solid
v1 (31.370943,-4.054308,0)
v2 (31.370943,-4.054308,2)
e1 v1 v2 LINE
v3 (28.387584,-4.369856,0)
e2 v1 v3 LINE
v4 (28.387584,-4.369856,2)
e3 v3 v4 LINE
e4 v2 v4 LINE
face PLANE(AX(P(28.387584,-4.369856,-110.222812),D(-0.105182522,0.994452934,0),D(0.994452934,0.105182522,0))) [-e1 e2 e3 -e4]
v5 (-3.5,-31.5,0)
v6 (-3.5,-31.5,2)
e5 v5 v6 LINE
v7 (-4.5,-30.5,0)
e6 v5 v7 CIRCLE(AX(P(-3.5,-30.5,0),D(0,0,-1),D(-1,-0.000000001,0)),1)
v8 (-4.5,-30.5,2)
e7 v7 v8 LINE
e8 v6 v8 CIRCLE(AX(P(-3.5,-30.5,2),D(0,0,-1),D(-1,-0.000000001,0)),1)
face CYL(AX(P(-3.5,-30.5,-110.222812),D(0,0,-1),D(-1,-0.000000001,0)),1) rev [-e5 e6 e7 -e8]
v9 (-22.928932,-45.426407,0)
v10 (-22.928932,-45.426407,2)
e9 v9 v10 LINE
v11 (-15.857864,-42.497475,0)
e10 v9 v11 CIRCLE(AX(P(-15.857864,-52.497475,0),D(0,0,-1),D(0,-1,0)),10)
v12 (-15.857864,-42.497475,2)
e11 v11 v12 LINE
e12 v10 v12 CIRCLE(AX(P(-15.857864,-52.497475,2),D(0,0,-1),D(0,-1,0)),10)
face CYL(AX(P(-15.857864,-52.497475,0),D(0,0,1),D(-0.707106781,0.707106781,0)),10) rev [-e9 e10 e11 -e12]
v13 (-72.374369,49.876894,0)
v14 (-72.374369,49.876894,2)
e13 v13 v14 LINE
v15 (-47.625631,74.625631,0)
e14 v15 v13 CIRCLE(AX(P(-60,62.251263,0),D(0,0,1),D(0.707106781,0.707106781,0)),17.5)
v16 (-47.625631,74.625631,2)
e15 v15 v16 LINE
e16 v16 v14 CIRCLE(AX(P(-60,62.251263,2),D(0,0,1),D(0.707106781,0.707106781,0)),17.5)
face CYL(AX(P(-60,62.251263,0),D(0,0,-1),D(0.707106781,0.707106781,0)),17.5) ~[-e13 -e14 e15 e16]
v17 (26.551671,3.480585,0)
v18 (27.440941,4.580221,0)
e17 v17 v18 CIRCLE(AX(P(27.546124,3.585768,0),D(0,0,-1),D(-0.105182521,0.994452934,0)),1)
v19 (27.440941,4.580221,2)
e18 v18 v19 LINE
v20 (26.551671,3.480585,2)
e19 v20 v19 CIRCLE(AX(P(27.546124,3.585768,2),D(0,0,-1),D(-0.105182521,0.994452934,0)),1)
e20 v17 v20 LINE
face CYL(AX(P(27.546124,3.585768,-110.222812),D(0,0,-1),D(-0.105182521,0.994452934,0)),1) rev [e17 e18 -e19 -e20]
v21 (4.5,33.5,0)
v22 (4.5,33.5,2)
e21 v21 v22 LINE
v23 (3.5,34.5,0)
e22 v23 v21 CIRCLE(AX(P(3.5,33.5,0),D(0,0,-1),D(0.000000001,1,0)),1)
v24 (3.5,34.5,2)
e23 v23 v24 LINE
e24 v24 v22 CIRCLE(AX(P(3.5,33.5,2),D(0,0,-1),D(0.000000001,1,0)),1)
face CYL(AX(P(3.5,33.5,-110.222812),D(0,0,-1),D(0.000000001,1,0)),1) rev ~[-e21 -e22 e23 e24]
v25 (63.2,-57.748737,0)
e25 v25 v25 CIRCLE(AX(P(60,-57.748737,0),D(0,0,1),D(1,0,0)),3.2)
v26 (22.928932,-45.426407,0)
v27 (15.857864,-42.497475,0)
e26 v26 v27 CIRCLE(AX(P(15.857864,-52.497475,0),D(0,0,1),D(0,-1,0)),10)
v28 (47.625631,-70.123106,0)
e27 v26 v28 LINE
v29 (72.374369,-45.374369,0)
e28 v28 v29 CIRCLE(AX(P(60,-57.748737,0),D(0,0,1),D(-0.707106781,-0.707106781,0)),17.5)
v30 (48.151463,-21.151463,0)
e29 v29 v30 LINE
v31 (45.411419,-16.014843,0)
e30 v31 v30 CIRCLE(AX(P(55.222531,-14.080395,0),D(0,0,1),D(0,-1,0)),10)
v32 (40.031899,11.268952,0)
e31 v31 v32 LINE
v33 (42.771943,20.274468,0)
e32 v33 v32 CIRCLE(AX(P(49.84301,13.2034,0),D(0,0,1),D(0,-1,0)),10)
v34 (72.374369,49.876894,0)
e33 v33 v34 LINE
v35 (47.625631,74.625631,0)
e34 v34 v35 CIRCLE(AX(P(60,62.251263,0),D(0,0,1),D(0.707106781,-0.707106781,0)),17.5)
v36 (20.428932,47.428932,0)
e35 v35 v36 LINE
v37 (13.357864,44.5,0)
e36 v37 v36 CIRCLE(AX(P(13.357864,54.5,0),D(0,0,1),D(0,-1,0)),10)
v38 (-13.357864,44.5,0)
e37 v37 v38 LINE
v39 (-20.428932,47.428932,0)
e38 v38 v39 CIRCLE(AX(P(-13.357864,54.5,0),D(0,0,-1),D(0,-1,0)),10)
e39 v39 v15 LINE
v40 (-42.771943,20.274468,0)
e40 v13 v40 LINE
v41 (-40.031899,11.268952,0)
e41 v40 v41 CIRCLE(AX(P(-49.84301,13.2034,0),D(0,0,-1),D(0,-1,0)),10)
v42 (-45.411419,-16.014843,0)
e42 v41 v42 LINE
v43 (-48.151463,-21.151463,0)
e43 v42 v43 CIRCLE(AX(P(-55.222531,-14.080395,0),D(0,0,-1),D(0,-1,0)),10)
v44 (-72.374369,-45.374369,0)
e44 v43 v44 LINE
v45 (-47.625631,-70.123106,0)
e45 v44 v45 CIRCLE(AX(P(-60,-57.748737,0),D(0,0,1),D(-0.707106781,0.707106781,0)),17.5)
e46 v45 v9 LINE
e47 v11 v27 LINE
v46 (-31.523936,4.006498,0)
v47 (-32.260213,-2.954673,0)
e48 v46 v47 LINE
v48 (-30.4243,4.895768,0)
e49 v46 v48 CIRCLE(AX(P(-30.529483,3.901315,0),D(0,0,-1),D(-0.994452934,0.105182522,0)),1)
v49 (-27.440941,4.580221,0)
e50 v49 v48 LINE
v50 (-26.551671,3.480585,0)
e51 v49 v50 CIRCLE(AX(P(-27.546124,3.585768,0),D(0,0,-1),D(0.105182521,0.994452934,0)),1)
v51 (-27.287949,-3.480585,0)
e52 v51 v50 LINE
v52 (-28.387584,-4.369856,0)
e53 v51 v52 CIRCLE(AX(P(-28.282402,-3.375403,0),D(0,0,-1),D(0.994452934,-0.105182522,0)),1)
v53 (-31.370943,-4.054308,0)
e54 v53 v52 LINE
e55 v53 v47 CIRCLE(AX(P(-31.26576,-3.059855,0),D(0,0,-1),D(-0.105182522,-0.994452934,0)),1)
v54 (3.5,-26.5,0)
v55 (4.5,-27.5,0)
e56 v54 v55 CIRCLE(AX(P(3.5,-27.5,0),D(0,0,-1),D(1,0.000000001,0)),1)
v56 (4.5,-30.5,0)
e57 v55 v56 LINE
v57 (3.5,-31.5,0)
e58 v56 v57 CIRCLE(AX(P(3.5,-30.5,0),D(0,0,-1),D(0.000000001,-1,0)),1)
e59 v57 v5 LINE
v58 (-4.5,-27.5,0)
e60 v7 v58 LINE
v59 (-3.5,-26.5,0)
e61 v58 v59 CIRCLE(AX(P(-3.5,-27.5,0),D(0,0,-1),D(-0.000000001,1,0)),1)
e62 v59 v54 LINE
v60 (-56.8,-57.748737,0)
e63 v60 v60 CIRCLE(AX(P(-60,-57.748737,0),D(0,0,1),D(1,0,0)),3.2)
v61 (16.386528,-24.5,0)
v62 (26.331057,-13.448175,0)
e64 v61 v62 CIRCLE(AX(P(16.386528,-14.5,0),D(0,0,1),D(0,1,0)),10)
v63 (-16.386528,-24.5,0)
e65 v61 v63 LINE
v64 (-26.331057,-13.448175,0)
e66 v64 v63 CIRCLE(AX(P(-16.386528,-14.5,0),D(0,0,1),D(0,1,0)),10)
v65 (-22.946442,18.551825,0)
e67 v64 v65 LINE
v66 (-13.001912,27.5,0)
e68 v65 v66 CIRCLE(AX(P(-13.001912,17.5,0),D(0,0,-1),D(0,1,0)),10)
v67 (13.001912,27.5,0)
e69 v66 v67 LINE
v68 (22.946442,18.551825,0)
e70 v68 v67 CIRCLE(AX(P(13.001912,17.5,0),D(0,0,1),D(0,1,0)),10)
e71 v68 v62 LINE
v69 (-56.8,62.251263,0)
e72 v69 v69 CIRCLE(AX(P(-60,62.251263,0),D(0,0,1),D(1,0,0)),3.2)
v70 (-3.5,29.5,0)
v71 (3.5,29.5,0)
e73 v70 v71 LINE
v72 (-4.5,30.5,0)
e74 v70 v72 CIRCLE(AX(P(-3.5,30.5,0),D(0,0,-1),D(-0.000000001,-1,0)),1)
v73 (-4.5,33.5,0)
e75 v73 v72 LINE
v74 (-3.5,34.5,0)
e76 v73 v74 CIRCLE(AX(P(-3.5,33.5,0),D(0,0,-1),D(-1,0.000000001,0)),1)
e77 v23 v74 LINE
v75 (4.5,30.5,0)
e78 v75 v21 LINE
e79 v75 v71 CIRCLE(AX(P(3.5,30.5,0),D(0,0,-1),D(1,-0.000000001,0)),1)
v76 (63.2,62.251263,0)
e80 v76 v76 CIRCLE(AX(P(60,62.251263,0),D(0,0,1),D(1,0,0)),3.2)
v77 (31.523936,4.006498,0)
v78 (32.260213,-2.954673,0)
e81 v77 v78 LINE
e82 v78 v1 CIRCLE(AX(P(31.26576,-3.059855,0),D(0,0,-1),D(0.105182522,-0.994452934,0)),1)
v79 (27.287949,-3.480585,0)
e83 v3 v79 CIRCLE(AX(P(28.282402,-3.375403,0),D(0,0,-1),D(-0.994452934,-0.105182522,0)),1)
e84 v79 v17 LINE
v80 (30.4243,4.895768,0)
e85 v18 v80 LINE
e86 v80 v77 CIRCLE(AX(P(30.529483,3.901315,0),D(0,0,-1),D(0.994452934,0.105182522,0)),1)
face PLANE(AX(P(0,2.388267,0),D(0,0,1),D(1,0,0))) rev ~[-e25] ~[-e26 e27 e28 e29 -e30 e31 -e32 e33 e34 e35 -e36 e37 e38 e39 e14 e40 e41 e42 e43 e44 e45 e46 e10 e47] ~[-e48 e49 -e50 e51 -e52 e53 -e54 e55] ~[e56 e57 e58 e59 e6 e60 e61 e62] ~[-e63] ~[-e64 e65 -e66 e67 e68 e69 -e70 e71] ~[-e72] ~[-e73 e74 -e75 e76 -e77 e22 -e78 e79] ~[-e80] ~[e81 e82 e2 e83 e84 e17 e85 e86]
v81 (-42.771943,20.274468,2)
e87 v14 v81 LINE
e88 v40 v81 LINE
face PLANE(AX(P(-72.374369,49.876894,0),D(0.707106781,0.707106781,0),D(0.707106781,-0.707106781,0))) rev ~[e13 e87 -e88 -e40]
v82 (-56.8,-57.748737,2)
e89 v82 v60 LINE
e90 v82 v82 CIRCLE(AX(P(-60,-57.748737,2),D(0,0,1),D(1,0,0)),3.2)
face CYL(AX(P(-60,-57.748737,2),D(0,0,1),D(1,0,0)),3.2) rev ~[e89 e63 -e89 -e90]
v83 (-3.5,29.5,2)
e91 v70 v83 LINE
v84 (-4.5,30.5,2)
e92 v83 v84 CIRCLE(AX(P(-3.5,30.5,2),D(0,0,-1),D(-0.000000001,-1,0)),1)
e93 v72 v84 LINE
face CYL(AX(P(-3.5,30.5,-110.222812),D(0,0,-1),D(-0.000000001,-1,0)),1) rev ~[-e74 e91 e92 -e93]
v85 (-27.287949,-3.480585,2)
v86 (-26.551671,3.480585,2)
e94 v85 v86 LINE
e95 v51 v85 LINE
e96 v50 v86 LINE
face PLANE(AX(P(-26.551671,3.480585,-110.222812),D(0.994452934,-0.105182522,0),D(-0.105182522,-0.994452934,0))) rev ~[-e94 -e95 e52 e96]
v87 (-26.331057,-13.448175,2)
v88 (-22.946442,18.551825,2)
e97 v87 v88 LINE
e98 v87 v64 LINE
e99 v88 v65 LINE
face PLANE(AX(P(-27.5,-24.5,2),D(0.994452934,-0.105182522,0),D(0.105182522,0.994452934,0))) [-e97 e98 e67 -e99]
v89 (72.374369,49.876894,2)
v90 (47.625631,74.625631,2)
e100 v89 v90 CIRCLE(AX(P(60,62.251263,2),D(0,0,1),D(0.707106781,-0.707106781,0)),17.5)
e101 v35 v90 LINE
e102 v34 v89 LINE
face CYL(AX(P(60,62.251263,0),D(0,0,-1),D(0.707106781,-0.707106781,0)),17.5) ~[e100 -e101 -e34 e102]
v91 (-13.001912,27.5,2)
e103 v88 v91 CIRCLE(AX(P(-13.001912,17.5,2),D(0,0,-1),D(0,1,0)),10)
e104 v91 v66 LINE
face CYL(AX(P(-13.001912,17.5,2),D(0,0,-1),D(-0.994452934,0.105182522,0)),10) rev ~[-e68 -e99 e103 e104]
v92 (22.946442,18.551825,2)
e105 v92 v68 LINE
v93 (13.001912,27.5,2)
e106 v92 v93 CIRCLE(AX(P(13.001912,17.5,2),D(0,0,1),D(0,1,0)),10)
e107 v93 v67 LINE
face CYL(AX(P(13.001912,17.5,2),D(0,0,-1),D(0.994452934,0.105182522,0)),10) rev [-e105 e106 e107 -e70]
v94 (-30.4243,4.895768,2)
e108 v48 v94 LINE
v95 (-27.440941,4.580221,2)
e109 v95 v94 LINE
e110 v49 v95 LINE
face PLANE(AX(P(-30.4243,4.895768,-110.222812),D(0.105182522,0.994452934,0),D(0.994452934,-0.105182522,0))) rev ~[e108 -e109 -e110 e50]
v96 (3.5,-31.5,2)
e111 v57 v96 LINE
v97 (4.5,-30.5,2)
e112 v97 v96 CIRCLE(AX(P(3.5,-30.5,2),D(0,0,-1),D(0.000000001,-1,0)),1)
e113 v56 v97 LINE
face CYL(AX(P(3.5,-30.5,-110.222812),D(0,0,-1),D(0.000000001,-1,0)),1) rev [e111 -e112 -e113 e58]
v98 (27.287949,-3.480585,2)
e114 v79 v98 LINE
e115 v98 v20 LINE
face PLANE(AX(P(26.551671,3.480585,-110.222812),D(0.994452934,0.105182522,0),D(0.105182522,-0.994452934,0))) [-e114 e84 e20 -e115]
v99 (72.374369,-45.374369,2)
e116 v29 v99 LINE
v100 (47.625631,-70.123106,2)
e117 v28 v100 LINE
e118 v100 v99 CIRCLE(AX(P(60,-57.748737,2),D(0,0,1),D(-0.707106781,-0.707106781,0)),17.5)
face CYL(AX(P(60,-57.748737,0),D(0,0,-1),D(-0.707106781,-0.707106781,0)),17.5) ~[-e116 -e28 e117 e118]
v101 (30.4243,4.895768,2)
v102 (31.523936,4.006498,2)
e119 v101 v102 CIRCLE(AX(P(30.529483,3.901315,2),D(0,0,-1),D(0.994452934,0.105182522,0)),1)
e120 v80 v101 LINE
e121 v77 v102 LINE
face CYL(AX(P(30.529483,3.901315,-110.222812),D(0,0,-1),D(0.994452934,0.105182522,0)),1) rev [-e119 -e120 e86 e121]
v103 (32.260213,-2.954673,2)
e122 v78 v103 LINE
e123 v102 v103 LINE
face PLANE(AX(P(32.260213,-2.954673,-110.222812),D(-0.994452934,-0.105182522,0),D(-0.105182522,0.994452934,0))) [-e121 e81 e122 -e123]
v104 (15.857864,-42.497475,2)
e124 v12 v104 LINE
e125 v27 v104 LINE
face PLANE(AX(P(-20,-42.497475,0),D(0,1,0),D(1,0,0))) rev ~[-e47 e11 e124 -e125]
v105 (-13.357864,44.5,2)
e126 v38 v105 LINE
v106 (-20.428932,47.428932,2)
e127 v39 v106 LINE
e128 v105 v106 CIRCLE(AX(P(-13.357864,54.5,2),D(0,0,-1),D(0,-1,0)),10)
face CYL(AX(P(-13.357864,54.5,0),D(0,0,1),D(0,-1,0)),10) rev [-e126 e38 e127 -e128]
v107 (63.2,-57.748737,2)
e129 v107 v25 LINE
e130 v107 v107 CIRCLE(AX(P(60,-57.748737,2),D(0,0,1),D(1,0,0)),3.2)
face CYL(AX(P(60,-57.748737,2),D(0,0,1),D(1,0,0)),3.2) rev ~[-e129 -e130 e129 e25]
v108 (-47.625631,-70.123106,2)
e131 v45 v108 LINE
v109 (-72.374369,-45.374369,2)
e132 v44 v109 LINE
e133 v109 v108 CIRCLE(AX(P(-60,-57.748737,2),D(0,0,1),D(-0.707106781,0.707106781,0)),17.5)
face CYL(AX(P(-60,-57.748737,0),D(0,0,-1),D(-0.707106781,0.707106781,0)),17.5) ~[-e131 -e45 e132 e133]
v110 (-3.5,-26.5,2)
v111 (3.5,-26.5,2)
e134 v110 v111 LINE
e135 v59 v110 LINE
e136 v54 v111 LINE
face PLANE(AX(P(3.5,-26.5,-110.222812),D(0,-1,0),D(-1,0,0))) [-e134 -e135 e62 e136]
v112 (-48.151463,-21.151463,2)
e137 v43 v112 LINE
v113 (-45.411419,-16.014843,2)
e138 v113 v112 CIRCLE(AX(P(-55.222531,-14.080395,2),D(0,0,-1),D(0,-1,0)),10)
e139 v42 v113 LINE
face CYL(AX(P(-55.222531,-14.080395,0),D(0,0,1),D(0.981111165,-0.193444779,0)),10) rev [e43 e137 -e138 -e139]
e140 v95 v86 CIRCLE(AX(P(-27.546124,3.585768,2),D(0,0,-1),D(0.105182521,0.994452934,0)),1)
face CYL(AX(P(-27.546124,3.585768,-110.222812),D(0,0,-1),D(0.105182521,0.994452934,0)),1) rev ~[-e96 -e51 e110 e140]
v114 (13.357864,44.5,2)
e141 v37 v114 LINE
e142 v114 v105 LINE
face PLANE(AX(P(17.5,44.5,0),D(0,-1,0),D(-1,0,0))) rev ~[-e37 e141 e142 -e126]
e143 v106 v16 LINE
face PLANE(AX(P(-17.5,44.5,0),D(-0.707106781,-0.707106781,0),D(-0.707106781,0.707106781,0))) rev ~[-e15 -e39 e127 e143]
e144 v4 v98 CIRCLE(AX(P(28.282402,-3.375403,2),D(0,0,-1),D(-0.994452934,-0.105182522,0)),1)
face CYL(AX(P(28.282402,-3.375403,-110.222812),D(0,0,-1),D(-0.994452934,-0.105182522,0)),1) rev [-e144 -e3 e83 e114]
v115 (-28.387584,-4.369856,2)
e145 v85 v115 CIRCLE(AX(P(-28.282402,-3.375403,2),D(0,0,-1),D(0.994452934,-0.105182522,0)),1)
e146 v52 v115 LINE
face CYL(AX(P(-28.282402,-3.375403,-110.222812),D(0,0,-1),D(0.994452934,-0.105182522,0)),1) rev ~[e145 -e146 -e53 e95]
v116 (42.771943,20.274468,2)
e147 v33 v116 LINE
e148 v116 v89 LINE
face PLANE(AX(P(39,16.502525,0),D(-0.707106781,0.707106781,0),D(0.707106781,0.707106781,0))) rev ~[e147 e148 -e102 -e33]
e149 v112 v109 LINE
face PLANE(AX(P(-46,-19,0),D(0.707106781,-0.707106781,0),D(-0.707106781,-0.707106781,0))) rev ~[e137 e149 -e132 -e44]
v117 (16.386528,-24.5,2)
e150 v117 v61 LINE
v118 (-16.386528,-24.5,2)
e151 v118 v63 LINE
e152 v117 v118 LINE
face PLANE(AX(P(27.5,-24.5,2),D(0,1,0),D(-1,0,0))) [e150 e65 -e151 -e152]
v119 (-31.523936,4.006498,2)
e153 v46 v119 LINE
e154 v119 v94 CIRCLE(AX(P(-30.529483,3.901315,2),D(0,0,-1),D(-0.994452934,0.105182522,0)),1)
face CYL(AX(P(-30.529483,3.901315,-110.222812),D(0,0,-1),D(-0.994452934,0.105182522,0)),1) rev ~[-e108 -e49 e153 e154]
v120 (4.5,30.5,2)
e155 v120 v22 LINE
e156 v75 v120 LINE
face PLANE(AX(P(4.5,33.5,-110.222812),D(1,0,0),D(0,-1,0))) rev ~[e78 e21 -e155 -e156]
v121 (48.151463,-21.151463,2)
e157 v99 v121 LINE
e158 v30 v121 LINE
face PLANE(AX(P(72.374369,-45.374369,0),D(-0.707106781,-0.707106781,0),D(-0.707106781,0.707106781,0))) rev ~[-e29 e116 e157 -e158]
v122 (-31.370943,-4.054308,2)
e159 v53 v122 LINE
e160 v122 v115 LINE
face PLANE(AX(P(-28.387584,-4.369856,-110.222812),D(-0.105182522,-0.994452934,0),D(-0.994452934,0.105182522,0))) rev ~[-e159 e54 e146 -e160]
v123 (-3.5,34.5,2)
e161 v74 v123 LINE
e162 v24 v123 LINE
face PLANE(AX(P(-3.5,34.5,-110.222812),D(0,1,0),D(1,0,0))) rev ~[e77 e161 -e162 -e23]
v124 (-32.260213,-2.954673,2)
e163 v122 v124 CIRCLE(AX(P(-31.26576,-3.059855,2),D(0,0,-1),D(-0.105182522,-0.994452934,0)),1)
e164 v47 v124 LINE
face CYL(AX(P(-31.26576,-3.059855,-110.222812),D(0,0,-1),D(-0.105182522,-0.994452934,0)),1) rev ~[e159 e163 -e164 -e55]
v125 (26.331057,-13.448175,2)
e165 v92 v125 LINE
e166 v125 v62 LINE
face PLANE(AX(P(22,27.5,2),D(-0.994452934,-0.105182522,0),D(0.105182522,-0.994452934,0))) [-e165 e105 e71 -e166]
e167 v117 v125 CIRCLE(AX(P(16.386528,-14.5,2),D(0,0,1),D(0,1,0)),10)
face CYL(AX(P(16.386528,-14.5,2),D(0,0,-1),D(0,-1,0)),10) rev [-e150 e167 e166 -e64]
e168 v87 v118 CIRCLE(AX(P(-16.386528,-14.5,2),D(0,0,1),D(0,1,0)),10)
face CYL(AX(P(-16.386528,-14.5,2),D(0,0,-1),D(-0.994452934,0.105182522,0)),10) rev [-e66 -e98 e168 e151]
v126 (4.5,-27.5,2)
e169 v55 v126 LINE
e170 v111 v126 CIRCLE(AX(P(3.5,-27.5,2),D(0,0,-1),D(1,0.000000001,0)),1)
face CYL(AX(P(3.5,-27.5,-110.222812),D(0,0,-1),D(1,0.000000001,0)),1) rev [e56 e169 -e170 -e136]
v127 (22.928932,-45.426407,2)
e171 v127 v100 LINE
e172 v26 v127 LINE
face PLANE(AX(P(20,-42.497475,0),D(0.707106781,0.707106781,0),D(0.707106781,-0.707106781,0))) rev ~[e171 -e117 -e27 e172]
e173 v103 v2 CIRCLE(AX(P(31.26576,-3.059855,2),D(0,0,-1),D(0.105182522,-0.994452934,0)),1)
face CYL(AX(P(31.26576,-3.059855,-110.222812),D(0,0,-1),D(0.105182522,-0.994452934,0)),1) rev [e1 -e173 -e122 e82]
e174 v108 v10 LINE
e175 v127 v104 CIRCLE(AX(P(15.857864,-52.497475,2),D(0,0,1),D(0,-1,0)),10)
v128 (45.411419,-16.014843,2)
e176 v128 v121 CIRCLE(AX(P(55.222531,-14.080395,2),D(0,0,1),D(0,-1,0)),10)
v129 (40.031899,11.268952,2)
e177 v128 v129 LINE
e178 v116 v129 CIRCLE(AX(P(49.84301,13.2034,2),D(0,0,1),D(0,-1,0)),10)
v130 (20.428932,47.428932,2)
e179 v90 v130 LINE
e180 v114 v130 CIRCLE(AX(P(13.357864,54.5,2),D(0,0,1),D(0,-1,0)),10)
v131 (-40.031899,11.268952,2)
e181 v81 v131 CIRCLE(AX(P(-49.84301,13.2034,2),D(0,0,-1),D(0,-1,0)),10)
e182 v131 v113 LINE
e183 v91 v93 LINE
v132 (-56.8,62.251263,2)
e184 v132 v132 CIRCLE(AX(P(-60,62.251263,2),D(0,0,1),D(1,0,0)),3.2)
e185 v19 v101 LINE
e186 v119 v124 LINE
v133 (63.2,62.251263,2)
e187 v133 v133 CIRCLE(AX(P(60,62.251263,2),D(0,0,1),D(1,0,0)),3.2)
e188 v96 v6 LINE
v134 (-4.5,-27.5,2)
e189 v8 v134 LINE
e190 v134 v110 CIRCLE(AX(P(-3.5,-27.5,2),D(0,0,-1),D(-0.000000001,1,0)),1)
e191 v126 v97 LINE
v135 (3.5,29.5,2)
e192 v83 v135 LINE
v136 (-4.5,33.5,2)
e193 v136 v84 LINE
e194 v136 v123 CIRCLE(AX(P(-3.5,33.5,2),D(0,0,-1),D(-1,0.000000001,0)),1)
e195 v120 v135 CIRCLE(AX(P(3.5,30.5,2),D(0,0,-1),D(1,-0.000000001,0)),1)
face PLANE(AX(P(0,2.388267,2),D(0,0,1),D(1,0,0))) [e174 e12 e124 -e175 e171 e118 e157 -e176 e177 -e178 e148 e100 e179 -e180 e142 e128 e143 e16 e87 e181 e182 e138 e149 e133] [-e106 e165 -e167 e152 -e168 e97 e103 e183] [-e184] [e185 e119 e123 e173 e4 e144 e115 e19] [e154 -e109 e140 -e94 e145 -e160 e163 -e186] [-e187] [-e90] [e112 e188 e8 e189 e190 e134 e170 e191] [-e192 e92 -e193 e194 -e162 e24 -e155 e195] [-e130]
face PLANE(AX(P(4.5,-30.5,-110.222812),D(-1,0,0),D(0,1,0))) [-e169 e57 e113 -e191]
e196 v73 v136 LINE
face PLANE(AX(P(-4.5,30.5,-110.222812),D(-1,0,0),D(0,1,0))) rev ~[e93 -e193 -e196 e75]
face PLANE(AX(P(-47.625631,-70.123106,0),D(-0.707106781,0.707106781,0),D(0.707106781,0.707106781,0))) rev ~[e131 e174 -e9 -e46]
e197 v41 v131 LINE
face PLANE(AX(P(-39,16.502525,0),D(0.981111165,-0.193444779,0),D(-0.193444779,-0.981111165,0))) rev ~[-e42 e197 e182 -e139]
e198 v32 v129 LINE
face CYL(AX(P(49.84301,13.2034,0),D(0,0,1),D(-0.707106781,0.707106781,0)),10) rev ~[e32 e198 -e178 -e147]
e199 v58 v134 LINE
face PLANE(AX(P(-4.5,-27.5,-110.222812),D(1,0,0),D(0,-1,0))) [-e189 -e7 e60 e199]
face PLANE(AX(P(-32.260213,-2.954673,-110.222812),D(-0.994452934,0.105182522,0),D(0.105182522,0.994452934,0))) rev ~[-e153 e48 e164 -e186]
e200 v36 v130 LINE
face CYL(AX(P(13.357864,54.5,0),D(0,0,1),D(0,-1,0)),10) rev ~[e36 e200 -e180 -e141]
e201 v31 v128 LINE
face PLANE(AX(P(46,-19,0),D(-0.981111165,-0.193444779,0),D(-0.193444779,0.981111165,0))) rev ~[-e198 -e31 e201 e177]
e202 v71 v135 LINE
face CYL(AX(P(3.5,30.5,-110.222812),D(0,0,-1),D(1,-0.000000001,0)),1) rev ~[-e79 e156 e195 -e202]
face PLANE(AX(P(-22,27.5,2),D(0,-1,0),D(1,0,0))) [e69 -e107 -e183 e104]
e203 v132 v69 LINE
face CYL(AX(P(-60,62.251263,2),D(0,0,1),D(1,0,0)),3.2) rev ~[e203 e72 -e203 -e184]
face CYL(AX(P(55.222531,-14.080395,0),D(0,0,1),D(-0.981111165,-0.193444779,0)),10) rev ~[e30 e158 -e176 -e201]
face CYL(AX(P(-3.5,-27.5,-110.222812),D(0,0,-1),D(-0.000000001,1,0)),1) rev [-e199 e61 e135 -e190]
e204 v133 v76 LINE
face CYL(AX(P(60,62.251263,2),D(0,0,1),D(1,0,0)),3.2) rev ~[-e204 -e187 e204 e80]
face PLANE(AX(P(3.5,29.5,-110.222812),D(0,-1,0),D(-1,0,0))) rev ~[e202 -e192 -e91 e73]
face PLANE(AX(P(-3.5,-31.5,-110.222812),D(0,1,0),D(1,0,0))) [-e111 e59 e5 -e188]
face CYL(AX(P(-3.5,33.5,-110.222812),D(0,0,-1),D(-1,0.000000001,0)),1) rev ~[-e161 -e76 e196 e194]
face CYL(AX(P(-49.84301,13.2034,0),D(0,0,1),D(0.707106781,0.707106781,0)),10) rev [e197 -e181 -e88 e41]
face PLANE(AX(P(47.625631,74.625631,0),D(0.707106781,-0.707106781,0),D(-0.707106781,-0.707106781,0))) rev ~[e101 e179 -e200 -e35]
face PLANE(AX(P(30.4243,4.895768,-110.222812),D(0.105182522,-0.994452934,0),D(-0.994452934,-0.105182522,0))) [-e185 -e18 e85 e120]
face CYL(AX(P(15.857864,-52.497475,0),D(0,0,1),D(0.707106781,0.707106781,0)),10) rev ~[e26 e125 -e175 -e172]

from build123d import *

# Parameters (mm, degrees)
AUFSATZ_LINEAR_AUSTRAGEN1_DEPTH      = 2
SKIZZE2_R                            = 3.2
SCHNITT_LINEAR_AUSTRAGEN1_DEPTH      = 2
SCHNITT_LINEAR_AUSTRAGEN3_DEPTH      = 2
VERRUNDUNG1_R                        = 10
VERRUNDUNG2_R                        = 10
SCHNITT_LINEAR_AUSTRAGEN4_DEPTH      = 112.222811939
SCHNITT_LINEAR_AUSTRAGEN4_DEPTH_BACK = 112.222811939


with BuildPart() as part:
    # Skizze1 → Aufsatz-Linear austragen1 (new body)
    with BuildSketch(Plane.XY):
        with BuildLine():
            Line((17.5, 44.5), (-17.5, 44.5))
            Line((-17.5, 44.5), (-47.625631329, 74.625631329))
            ThreePointArc((-47.625631329, 74.625631329), (-72.374368671, 74.625631329), (-72.374368671, 49.876893988))
            Line((-72.374368671, 49.876893988), (-39, 16.502525317))
            Line((-39, 16.502525317), (-46, -19))
            Line((-46, -19), (-72.374368671, -45.374368671))
            ThreePointArc((-72.374368671, -45.374368671), (-72.374368671, -70.123106012), (-47.625631329, -70.123106012))
            Line((-47.625631329, -70.123106012), (-20, -42.497474683))
            Line((-20, -42.497474683), (20, -42.497474683))
            Line((20, -42.497474683), (47.625631329, -70.123106012))
            ThreePointArc((47.625631329, -70.123106012), (72.374368671, -70.123106012), (72.374368671, -45.374368671))
            Line((72.374368671, -45.374368671), (46, -19))
            Line((46, -19), (39, 16.502525317))
            Line((39, 16.502525317), (72.374368671, 49.876893988))
            ThreePointArc((72.374368671, 49.876893988), (72.374368671, 74.625631329), (47.625631329, 74.625631329))
            Line((47.625631329, 74.625631329), (17.5, 44.5))
        make_face()
    extrude(amount=AUFSATZ_LINEAR_AUSTRAGEN1_DEPTH)

    # Skizze2 → Schnitt-Linear austragen1 (cut)
    with BuildSketch(Plane.XY.offset(2)):
        with Locations((-60, -57.748737342)):
            Circle(SKIZZE2_R)
        with Locations((-60, 62.251262658)):
            Circle(SKIZZE2_R)
        with Locations((60, -57.748737342)):
            Circle(SKIZZE2_R)
        with Locations((60, 62.251262658)):
            Circle(SKIZZE2_R)
    extrude(amount=-SCHNITT_LINEAR_AUSTRAGEN1_DEPTH, mode=Mode.SUBTRACT)

    # Skizze4 → Schnitt-Linear austragen3 (cut)
    with BuildSketch(Plane.XY.offset(2)):
        Polygon((-22, 27.5), (22, 27.5), (27.5, -24.5), (-27.5, -24.5), align=None)
    extrude(amount=-SCHNITT_LINEAR_AUSTRAGEN3_DEPTH, mode=Mode.SUBTRACT)

    # Verrundung1
    verrundung1_edges = [part.edges().sort_by_distance(p)[0] for p in [
        (-27.5, -24.5, 1),
        (-22, 27.5, 1),
        (22, 27.5, 1),
        (27.5, -24.5, 1),
    ]]
    fillet(verrundung1_edges, radius=VERRUNDUNG1_R)

    # Verrundung2
    verrundung2_edges = [part.edges().sort_by_distance(p)[0] for p in [
        (-17.5, 44.5, 1),
        (17.5, 44.5, 1),
        (39, 16.502525317, 1),
        (46, -19, 1),
        (20, -42.497474683, 1),
        (-20, -42.497474683, 1),
        (-46, -19, 1),
        (-39, 16.502525317, 1),
    ]]
    fillet(verrundung2_edges, radius=VERRUNDUNG2_R)

    # Skizze5 → Schnitt-Linear austragen4 (cut, two sides: drawn at the far end of the back side and taken through both)
    with BuildSketch(Plane.XY.offset(2).offset(-SCHNITT_LINEAR_AUSTRAGEN4_DEPTH_BACK)):
        with BuildLine():
            Line((-3.5, 34.5), (3.5, 34.5))
            ThreePointArc((3.5, 34.5), (4.207106781, 34.207106781), (4.5, 33.5))
            Line((4.5, 33.5), (4.5, 30.5))
            ThreePointArc((4.5, 30.5), (4.207106781, 29.792893219), (3.5, 29.5))
            Line((3.5, 29.5), (-3.5, 29.5))
            ThreePointArc((-3.5, 29.5), (-4.207106781, 29.792893219), (-4.5, 30.5))
            Line((-4.5, 30.5), (-4.5, 33.5))
            ThreePointArc((-4.5, 33.5), (-4.207106781, 34.207106781), (-3.5, 34.5))
        make_face()
        with BuildLine():
            Line((-30.424300248, 4.895768288), (-27.440941448, 4.580220723))
            ThreePointArc((-27.440941448, 4.580220723), (-26.768564282, 4.214576928), (-26.551671036, 3.480585268))
            Line((-26.551671036, 3.480585268), (-27.287948689, -3.480585268))
            ThreePointArc((-27.287948689, -3.480585268), (-27.653592484, -4.152962433), (-28.387584144, -4.369855679))
            Line((-28.387584144, -4.369855679), (-31.370942945, -4.054308114))
            ThreePointArc((-31.370942945, -4.054308114), (-32.04332011, -3.688664319), (-32.260213356, -2.954672658))
            Line((-32.260213356, -2.954672658), (-31.523935704, 4.006497877))
            ThreePointArc((-31.523935704, 4.006497877), (-31.158291909, 4.678875042), (-30.424300248, 4.895768288))
        make_face()
        with BuildLine():
            Line((26.551671036, 3.480585268), (27.287948689, -3.480585268))
            ThreePointArc((27.287948689, -3.480585268), (27.653592484, -4.152962433), (28.387584144, -4.369855679))
            Line((28.387584144, -4.369855679), (31.370942945, -4.054308114))
            ThreePointArc((31.370942945, -4.054308114), (32.04332011, -3.688664319), (32.260213356, -2.954672658))
            Line((32.260213356, -2.954672658), (31.523935704, 4.006497877))
            ThreePointArc((31.523935704, 4.006497877), (31.158291909, 4.678875042), (30.424300248, 4.895768288))
            Line((30.424300248, 4.895768288), (27.440941448, 4.580220723))
            ThreePointArc((27.440941448, 4.580220723), (26.768564282, 4.214576928), (26.551671036, 3.480585268))
        make_face()
        with BuildLine():
            Line((4.5, -30.5), (4.5, -27.5))
            ThreePointArc((4.5, -27.5), (4.207106781, -26.792893219), (3.5, -26.5))
            Line((3.5, -26.5), (-3.5, -26.5))
            ThreePointArc((-3.5, -26.5), (-4.207106781, -26.792893219), (-4.5, -27.5))
            Line((-4.5, -27.5), (-4.5, -30.5))
            ThreePointArc((-4.5, -30.5), (-4.207106781, -31.207106781), (-3.5, -31.5))
            Line((-3.5, -31.5), (3.5, -31.5))
            ThreePointArc((3.5, -31.5), (4.207106781, -31.207106781), (4.5, -30.5))
        make_face()
    extrude(amount=SCHNITT_LINEAR_AUSTRAGEN4_DEPTH + SCHNITT_LINEAR_AUSTRAGEN4_DEPTH_BACK, mode=Mode.SUBTRACT)


solid = part.part
